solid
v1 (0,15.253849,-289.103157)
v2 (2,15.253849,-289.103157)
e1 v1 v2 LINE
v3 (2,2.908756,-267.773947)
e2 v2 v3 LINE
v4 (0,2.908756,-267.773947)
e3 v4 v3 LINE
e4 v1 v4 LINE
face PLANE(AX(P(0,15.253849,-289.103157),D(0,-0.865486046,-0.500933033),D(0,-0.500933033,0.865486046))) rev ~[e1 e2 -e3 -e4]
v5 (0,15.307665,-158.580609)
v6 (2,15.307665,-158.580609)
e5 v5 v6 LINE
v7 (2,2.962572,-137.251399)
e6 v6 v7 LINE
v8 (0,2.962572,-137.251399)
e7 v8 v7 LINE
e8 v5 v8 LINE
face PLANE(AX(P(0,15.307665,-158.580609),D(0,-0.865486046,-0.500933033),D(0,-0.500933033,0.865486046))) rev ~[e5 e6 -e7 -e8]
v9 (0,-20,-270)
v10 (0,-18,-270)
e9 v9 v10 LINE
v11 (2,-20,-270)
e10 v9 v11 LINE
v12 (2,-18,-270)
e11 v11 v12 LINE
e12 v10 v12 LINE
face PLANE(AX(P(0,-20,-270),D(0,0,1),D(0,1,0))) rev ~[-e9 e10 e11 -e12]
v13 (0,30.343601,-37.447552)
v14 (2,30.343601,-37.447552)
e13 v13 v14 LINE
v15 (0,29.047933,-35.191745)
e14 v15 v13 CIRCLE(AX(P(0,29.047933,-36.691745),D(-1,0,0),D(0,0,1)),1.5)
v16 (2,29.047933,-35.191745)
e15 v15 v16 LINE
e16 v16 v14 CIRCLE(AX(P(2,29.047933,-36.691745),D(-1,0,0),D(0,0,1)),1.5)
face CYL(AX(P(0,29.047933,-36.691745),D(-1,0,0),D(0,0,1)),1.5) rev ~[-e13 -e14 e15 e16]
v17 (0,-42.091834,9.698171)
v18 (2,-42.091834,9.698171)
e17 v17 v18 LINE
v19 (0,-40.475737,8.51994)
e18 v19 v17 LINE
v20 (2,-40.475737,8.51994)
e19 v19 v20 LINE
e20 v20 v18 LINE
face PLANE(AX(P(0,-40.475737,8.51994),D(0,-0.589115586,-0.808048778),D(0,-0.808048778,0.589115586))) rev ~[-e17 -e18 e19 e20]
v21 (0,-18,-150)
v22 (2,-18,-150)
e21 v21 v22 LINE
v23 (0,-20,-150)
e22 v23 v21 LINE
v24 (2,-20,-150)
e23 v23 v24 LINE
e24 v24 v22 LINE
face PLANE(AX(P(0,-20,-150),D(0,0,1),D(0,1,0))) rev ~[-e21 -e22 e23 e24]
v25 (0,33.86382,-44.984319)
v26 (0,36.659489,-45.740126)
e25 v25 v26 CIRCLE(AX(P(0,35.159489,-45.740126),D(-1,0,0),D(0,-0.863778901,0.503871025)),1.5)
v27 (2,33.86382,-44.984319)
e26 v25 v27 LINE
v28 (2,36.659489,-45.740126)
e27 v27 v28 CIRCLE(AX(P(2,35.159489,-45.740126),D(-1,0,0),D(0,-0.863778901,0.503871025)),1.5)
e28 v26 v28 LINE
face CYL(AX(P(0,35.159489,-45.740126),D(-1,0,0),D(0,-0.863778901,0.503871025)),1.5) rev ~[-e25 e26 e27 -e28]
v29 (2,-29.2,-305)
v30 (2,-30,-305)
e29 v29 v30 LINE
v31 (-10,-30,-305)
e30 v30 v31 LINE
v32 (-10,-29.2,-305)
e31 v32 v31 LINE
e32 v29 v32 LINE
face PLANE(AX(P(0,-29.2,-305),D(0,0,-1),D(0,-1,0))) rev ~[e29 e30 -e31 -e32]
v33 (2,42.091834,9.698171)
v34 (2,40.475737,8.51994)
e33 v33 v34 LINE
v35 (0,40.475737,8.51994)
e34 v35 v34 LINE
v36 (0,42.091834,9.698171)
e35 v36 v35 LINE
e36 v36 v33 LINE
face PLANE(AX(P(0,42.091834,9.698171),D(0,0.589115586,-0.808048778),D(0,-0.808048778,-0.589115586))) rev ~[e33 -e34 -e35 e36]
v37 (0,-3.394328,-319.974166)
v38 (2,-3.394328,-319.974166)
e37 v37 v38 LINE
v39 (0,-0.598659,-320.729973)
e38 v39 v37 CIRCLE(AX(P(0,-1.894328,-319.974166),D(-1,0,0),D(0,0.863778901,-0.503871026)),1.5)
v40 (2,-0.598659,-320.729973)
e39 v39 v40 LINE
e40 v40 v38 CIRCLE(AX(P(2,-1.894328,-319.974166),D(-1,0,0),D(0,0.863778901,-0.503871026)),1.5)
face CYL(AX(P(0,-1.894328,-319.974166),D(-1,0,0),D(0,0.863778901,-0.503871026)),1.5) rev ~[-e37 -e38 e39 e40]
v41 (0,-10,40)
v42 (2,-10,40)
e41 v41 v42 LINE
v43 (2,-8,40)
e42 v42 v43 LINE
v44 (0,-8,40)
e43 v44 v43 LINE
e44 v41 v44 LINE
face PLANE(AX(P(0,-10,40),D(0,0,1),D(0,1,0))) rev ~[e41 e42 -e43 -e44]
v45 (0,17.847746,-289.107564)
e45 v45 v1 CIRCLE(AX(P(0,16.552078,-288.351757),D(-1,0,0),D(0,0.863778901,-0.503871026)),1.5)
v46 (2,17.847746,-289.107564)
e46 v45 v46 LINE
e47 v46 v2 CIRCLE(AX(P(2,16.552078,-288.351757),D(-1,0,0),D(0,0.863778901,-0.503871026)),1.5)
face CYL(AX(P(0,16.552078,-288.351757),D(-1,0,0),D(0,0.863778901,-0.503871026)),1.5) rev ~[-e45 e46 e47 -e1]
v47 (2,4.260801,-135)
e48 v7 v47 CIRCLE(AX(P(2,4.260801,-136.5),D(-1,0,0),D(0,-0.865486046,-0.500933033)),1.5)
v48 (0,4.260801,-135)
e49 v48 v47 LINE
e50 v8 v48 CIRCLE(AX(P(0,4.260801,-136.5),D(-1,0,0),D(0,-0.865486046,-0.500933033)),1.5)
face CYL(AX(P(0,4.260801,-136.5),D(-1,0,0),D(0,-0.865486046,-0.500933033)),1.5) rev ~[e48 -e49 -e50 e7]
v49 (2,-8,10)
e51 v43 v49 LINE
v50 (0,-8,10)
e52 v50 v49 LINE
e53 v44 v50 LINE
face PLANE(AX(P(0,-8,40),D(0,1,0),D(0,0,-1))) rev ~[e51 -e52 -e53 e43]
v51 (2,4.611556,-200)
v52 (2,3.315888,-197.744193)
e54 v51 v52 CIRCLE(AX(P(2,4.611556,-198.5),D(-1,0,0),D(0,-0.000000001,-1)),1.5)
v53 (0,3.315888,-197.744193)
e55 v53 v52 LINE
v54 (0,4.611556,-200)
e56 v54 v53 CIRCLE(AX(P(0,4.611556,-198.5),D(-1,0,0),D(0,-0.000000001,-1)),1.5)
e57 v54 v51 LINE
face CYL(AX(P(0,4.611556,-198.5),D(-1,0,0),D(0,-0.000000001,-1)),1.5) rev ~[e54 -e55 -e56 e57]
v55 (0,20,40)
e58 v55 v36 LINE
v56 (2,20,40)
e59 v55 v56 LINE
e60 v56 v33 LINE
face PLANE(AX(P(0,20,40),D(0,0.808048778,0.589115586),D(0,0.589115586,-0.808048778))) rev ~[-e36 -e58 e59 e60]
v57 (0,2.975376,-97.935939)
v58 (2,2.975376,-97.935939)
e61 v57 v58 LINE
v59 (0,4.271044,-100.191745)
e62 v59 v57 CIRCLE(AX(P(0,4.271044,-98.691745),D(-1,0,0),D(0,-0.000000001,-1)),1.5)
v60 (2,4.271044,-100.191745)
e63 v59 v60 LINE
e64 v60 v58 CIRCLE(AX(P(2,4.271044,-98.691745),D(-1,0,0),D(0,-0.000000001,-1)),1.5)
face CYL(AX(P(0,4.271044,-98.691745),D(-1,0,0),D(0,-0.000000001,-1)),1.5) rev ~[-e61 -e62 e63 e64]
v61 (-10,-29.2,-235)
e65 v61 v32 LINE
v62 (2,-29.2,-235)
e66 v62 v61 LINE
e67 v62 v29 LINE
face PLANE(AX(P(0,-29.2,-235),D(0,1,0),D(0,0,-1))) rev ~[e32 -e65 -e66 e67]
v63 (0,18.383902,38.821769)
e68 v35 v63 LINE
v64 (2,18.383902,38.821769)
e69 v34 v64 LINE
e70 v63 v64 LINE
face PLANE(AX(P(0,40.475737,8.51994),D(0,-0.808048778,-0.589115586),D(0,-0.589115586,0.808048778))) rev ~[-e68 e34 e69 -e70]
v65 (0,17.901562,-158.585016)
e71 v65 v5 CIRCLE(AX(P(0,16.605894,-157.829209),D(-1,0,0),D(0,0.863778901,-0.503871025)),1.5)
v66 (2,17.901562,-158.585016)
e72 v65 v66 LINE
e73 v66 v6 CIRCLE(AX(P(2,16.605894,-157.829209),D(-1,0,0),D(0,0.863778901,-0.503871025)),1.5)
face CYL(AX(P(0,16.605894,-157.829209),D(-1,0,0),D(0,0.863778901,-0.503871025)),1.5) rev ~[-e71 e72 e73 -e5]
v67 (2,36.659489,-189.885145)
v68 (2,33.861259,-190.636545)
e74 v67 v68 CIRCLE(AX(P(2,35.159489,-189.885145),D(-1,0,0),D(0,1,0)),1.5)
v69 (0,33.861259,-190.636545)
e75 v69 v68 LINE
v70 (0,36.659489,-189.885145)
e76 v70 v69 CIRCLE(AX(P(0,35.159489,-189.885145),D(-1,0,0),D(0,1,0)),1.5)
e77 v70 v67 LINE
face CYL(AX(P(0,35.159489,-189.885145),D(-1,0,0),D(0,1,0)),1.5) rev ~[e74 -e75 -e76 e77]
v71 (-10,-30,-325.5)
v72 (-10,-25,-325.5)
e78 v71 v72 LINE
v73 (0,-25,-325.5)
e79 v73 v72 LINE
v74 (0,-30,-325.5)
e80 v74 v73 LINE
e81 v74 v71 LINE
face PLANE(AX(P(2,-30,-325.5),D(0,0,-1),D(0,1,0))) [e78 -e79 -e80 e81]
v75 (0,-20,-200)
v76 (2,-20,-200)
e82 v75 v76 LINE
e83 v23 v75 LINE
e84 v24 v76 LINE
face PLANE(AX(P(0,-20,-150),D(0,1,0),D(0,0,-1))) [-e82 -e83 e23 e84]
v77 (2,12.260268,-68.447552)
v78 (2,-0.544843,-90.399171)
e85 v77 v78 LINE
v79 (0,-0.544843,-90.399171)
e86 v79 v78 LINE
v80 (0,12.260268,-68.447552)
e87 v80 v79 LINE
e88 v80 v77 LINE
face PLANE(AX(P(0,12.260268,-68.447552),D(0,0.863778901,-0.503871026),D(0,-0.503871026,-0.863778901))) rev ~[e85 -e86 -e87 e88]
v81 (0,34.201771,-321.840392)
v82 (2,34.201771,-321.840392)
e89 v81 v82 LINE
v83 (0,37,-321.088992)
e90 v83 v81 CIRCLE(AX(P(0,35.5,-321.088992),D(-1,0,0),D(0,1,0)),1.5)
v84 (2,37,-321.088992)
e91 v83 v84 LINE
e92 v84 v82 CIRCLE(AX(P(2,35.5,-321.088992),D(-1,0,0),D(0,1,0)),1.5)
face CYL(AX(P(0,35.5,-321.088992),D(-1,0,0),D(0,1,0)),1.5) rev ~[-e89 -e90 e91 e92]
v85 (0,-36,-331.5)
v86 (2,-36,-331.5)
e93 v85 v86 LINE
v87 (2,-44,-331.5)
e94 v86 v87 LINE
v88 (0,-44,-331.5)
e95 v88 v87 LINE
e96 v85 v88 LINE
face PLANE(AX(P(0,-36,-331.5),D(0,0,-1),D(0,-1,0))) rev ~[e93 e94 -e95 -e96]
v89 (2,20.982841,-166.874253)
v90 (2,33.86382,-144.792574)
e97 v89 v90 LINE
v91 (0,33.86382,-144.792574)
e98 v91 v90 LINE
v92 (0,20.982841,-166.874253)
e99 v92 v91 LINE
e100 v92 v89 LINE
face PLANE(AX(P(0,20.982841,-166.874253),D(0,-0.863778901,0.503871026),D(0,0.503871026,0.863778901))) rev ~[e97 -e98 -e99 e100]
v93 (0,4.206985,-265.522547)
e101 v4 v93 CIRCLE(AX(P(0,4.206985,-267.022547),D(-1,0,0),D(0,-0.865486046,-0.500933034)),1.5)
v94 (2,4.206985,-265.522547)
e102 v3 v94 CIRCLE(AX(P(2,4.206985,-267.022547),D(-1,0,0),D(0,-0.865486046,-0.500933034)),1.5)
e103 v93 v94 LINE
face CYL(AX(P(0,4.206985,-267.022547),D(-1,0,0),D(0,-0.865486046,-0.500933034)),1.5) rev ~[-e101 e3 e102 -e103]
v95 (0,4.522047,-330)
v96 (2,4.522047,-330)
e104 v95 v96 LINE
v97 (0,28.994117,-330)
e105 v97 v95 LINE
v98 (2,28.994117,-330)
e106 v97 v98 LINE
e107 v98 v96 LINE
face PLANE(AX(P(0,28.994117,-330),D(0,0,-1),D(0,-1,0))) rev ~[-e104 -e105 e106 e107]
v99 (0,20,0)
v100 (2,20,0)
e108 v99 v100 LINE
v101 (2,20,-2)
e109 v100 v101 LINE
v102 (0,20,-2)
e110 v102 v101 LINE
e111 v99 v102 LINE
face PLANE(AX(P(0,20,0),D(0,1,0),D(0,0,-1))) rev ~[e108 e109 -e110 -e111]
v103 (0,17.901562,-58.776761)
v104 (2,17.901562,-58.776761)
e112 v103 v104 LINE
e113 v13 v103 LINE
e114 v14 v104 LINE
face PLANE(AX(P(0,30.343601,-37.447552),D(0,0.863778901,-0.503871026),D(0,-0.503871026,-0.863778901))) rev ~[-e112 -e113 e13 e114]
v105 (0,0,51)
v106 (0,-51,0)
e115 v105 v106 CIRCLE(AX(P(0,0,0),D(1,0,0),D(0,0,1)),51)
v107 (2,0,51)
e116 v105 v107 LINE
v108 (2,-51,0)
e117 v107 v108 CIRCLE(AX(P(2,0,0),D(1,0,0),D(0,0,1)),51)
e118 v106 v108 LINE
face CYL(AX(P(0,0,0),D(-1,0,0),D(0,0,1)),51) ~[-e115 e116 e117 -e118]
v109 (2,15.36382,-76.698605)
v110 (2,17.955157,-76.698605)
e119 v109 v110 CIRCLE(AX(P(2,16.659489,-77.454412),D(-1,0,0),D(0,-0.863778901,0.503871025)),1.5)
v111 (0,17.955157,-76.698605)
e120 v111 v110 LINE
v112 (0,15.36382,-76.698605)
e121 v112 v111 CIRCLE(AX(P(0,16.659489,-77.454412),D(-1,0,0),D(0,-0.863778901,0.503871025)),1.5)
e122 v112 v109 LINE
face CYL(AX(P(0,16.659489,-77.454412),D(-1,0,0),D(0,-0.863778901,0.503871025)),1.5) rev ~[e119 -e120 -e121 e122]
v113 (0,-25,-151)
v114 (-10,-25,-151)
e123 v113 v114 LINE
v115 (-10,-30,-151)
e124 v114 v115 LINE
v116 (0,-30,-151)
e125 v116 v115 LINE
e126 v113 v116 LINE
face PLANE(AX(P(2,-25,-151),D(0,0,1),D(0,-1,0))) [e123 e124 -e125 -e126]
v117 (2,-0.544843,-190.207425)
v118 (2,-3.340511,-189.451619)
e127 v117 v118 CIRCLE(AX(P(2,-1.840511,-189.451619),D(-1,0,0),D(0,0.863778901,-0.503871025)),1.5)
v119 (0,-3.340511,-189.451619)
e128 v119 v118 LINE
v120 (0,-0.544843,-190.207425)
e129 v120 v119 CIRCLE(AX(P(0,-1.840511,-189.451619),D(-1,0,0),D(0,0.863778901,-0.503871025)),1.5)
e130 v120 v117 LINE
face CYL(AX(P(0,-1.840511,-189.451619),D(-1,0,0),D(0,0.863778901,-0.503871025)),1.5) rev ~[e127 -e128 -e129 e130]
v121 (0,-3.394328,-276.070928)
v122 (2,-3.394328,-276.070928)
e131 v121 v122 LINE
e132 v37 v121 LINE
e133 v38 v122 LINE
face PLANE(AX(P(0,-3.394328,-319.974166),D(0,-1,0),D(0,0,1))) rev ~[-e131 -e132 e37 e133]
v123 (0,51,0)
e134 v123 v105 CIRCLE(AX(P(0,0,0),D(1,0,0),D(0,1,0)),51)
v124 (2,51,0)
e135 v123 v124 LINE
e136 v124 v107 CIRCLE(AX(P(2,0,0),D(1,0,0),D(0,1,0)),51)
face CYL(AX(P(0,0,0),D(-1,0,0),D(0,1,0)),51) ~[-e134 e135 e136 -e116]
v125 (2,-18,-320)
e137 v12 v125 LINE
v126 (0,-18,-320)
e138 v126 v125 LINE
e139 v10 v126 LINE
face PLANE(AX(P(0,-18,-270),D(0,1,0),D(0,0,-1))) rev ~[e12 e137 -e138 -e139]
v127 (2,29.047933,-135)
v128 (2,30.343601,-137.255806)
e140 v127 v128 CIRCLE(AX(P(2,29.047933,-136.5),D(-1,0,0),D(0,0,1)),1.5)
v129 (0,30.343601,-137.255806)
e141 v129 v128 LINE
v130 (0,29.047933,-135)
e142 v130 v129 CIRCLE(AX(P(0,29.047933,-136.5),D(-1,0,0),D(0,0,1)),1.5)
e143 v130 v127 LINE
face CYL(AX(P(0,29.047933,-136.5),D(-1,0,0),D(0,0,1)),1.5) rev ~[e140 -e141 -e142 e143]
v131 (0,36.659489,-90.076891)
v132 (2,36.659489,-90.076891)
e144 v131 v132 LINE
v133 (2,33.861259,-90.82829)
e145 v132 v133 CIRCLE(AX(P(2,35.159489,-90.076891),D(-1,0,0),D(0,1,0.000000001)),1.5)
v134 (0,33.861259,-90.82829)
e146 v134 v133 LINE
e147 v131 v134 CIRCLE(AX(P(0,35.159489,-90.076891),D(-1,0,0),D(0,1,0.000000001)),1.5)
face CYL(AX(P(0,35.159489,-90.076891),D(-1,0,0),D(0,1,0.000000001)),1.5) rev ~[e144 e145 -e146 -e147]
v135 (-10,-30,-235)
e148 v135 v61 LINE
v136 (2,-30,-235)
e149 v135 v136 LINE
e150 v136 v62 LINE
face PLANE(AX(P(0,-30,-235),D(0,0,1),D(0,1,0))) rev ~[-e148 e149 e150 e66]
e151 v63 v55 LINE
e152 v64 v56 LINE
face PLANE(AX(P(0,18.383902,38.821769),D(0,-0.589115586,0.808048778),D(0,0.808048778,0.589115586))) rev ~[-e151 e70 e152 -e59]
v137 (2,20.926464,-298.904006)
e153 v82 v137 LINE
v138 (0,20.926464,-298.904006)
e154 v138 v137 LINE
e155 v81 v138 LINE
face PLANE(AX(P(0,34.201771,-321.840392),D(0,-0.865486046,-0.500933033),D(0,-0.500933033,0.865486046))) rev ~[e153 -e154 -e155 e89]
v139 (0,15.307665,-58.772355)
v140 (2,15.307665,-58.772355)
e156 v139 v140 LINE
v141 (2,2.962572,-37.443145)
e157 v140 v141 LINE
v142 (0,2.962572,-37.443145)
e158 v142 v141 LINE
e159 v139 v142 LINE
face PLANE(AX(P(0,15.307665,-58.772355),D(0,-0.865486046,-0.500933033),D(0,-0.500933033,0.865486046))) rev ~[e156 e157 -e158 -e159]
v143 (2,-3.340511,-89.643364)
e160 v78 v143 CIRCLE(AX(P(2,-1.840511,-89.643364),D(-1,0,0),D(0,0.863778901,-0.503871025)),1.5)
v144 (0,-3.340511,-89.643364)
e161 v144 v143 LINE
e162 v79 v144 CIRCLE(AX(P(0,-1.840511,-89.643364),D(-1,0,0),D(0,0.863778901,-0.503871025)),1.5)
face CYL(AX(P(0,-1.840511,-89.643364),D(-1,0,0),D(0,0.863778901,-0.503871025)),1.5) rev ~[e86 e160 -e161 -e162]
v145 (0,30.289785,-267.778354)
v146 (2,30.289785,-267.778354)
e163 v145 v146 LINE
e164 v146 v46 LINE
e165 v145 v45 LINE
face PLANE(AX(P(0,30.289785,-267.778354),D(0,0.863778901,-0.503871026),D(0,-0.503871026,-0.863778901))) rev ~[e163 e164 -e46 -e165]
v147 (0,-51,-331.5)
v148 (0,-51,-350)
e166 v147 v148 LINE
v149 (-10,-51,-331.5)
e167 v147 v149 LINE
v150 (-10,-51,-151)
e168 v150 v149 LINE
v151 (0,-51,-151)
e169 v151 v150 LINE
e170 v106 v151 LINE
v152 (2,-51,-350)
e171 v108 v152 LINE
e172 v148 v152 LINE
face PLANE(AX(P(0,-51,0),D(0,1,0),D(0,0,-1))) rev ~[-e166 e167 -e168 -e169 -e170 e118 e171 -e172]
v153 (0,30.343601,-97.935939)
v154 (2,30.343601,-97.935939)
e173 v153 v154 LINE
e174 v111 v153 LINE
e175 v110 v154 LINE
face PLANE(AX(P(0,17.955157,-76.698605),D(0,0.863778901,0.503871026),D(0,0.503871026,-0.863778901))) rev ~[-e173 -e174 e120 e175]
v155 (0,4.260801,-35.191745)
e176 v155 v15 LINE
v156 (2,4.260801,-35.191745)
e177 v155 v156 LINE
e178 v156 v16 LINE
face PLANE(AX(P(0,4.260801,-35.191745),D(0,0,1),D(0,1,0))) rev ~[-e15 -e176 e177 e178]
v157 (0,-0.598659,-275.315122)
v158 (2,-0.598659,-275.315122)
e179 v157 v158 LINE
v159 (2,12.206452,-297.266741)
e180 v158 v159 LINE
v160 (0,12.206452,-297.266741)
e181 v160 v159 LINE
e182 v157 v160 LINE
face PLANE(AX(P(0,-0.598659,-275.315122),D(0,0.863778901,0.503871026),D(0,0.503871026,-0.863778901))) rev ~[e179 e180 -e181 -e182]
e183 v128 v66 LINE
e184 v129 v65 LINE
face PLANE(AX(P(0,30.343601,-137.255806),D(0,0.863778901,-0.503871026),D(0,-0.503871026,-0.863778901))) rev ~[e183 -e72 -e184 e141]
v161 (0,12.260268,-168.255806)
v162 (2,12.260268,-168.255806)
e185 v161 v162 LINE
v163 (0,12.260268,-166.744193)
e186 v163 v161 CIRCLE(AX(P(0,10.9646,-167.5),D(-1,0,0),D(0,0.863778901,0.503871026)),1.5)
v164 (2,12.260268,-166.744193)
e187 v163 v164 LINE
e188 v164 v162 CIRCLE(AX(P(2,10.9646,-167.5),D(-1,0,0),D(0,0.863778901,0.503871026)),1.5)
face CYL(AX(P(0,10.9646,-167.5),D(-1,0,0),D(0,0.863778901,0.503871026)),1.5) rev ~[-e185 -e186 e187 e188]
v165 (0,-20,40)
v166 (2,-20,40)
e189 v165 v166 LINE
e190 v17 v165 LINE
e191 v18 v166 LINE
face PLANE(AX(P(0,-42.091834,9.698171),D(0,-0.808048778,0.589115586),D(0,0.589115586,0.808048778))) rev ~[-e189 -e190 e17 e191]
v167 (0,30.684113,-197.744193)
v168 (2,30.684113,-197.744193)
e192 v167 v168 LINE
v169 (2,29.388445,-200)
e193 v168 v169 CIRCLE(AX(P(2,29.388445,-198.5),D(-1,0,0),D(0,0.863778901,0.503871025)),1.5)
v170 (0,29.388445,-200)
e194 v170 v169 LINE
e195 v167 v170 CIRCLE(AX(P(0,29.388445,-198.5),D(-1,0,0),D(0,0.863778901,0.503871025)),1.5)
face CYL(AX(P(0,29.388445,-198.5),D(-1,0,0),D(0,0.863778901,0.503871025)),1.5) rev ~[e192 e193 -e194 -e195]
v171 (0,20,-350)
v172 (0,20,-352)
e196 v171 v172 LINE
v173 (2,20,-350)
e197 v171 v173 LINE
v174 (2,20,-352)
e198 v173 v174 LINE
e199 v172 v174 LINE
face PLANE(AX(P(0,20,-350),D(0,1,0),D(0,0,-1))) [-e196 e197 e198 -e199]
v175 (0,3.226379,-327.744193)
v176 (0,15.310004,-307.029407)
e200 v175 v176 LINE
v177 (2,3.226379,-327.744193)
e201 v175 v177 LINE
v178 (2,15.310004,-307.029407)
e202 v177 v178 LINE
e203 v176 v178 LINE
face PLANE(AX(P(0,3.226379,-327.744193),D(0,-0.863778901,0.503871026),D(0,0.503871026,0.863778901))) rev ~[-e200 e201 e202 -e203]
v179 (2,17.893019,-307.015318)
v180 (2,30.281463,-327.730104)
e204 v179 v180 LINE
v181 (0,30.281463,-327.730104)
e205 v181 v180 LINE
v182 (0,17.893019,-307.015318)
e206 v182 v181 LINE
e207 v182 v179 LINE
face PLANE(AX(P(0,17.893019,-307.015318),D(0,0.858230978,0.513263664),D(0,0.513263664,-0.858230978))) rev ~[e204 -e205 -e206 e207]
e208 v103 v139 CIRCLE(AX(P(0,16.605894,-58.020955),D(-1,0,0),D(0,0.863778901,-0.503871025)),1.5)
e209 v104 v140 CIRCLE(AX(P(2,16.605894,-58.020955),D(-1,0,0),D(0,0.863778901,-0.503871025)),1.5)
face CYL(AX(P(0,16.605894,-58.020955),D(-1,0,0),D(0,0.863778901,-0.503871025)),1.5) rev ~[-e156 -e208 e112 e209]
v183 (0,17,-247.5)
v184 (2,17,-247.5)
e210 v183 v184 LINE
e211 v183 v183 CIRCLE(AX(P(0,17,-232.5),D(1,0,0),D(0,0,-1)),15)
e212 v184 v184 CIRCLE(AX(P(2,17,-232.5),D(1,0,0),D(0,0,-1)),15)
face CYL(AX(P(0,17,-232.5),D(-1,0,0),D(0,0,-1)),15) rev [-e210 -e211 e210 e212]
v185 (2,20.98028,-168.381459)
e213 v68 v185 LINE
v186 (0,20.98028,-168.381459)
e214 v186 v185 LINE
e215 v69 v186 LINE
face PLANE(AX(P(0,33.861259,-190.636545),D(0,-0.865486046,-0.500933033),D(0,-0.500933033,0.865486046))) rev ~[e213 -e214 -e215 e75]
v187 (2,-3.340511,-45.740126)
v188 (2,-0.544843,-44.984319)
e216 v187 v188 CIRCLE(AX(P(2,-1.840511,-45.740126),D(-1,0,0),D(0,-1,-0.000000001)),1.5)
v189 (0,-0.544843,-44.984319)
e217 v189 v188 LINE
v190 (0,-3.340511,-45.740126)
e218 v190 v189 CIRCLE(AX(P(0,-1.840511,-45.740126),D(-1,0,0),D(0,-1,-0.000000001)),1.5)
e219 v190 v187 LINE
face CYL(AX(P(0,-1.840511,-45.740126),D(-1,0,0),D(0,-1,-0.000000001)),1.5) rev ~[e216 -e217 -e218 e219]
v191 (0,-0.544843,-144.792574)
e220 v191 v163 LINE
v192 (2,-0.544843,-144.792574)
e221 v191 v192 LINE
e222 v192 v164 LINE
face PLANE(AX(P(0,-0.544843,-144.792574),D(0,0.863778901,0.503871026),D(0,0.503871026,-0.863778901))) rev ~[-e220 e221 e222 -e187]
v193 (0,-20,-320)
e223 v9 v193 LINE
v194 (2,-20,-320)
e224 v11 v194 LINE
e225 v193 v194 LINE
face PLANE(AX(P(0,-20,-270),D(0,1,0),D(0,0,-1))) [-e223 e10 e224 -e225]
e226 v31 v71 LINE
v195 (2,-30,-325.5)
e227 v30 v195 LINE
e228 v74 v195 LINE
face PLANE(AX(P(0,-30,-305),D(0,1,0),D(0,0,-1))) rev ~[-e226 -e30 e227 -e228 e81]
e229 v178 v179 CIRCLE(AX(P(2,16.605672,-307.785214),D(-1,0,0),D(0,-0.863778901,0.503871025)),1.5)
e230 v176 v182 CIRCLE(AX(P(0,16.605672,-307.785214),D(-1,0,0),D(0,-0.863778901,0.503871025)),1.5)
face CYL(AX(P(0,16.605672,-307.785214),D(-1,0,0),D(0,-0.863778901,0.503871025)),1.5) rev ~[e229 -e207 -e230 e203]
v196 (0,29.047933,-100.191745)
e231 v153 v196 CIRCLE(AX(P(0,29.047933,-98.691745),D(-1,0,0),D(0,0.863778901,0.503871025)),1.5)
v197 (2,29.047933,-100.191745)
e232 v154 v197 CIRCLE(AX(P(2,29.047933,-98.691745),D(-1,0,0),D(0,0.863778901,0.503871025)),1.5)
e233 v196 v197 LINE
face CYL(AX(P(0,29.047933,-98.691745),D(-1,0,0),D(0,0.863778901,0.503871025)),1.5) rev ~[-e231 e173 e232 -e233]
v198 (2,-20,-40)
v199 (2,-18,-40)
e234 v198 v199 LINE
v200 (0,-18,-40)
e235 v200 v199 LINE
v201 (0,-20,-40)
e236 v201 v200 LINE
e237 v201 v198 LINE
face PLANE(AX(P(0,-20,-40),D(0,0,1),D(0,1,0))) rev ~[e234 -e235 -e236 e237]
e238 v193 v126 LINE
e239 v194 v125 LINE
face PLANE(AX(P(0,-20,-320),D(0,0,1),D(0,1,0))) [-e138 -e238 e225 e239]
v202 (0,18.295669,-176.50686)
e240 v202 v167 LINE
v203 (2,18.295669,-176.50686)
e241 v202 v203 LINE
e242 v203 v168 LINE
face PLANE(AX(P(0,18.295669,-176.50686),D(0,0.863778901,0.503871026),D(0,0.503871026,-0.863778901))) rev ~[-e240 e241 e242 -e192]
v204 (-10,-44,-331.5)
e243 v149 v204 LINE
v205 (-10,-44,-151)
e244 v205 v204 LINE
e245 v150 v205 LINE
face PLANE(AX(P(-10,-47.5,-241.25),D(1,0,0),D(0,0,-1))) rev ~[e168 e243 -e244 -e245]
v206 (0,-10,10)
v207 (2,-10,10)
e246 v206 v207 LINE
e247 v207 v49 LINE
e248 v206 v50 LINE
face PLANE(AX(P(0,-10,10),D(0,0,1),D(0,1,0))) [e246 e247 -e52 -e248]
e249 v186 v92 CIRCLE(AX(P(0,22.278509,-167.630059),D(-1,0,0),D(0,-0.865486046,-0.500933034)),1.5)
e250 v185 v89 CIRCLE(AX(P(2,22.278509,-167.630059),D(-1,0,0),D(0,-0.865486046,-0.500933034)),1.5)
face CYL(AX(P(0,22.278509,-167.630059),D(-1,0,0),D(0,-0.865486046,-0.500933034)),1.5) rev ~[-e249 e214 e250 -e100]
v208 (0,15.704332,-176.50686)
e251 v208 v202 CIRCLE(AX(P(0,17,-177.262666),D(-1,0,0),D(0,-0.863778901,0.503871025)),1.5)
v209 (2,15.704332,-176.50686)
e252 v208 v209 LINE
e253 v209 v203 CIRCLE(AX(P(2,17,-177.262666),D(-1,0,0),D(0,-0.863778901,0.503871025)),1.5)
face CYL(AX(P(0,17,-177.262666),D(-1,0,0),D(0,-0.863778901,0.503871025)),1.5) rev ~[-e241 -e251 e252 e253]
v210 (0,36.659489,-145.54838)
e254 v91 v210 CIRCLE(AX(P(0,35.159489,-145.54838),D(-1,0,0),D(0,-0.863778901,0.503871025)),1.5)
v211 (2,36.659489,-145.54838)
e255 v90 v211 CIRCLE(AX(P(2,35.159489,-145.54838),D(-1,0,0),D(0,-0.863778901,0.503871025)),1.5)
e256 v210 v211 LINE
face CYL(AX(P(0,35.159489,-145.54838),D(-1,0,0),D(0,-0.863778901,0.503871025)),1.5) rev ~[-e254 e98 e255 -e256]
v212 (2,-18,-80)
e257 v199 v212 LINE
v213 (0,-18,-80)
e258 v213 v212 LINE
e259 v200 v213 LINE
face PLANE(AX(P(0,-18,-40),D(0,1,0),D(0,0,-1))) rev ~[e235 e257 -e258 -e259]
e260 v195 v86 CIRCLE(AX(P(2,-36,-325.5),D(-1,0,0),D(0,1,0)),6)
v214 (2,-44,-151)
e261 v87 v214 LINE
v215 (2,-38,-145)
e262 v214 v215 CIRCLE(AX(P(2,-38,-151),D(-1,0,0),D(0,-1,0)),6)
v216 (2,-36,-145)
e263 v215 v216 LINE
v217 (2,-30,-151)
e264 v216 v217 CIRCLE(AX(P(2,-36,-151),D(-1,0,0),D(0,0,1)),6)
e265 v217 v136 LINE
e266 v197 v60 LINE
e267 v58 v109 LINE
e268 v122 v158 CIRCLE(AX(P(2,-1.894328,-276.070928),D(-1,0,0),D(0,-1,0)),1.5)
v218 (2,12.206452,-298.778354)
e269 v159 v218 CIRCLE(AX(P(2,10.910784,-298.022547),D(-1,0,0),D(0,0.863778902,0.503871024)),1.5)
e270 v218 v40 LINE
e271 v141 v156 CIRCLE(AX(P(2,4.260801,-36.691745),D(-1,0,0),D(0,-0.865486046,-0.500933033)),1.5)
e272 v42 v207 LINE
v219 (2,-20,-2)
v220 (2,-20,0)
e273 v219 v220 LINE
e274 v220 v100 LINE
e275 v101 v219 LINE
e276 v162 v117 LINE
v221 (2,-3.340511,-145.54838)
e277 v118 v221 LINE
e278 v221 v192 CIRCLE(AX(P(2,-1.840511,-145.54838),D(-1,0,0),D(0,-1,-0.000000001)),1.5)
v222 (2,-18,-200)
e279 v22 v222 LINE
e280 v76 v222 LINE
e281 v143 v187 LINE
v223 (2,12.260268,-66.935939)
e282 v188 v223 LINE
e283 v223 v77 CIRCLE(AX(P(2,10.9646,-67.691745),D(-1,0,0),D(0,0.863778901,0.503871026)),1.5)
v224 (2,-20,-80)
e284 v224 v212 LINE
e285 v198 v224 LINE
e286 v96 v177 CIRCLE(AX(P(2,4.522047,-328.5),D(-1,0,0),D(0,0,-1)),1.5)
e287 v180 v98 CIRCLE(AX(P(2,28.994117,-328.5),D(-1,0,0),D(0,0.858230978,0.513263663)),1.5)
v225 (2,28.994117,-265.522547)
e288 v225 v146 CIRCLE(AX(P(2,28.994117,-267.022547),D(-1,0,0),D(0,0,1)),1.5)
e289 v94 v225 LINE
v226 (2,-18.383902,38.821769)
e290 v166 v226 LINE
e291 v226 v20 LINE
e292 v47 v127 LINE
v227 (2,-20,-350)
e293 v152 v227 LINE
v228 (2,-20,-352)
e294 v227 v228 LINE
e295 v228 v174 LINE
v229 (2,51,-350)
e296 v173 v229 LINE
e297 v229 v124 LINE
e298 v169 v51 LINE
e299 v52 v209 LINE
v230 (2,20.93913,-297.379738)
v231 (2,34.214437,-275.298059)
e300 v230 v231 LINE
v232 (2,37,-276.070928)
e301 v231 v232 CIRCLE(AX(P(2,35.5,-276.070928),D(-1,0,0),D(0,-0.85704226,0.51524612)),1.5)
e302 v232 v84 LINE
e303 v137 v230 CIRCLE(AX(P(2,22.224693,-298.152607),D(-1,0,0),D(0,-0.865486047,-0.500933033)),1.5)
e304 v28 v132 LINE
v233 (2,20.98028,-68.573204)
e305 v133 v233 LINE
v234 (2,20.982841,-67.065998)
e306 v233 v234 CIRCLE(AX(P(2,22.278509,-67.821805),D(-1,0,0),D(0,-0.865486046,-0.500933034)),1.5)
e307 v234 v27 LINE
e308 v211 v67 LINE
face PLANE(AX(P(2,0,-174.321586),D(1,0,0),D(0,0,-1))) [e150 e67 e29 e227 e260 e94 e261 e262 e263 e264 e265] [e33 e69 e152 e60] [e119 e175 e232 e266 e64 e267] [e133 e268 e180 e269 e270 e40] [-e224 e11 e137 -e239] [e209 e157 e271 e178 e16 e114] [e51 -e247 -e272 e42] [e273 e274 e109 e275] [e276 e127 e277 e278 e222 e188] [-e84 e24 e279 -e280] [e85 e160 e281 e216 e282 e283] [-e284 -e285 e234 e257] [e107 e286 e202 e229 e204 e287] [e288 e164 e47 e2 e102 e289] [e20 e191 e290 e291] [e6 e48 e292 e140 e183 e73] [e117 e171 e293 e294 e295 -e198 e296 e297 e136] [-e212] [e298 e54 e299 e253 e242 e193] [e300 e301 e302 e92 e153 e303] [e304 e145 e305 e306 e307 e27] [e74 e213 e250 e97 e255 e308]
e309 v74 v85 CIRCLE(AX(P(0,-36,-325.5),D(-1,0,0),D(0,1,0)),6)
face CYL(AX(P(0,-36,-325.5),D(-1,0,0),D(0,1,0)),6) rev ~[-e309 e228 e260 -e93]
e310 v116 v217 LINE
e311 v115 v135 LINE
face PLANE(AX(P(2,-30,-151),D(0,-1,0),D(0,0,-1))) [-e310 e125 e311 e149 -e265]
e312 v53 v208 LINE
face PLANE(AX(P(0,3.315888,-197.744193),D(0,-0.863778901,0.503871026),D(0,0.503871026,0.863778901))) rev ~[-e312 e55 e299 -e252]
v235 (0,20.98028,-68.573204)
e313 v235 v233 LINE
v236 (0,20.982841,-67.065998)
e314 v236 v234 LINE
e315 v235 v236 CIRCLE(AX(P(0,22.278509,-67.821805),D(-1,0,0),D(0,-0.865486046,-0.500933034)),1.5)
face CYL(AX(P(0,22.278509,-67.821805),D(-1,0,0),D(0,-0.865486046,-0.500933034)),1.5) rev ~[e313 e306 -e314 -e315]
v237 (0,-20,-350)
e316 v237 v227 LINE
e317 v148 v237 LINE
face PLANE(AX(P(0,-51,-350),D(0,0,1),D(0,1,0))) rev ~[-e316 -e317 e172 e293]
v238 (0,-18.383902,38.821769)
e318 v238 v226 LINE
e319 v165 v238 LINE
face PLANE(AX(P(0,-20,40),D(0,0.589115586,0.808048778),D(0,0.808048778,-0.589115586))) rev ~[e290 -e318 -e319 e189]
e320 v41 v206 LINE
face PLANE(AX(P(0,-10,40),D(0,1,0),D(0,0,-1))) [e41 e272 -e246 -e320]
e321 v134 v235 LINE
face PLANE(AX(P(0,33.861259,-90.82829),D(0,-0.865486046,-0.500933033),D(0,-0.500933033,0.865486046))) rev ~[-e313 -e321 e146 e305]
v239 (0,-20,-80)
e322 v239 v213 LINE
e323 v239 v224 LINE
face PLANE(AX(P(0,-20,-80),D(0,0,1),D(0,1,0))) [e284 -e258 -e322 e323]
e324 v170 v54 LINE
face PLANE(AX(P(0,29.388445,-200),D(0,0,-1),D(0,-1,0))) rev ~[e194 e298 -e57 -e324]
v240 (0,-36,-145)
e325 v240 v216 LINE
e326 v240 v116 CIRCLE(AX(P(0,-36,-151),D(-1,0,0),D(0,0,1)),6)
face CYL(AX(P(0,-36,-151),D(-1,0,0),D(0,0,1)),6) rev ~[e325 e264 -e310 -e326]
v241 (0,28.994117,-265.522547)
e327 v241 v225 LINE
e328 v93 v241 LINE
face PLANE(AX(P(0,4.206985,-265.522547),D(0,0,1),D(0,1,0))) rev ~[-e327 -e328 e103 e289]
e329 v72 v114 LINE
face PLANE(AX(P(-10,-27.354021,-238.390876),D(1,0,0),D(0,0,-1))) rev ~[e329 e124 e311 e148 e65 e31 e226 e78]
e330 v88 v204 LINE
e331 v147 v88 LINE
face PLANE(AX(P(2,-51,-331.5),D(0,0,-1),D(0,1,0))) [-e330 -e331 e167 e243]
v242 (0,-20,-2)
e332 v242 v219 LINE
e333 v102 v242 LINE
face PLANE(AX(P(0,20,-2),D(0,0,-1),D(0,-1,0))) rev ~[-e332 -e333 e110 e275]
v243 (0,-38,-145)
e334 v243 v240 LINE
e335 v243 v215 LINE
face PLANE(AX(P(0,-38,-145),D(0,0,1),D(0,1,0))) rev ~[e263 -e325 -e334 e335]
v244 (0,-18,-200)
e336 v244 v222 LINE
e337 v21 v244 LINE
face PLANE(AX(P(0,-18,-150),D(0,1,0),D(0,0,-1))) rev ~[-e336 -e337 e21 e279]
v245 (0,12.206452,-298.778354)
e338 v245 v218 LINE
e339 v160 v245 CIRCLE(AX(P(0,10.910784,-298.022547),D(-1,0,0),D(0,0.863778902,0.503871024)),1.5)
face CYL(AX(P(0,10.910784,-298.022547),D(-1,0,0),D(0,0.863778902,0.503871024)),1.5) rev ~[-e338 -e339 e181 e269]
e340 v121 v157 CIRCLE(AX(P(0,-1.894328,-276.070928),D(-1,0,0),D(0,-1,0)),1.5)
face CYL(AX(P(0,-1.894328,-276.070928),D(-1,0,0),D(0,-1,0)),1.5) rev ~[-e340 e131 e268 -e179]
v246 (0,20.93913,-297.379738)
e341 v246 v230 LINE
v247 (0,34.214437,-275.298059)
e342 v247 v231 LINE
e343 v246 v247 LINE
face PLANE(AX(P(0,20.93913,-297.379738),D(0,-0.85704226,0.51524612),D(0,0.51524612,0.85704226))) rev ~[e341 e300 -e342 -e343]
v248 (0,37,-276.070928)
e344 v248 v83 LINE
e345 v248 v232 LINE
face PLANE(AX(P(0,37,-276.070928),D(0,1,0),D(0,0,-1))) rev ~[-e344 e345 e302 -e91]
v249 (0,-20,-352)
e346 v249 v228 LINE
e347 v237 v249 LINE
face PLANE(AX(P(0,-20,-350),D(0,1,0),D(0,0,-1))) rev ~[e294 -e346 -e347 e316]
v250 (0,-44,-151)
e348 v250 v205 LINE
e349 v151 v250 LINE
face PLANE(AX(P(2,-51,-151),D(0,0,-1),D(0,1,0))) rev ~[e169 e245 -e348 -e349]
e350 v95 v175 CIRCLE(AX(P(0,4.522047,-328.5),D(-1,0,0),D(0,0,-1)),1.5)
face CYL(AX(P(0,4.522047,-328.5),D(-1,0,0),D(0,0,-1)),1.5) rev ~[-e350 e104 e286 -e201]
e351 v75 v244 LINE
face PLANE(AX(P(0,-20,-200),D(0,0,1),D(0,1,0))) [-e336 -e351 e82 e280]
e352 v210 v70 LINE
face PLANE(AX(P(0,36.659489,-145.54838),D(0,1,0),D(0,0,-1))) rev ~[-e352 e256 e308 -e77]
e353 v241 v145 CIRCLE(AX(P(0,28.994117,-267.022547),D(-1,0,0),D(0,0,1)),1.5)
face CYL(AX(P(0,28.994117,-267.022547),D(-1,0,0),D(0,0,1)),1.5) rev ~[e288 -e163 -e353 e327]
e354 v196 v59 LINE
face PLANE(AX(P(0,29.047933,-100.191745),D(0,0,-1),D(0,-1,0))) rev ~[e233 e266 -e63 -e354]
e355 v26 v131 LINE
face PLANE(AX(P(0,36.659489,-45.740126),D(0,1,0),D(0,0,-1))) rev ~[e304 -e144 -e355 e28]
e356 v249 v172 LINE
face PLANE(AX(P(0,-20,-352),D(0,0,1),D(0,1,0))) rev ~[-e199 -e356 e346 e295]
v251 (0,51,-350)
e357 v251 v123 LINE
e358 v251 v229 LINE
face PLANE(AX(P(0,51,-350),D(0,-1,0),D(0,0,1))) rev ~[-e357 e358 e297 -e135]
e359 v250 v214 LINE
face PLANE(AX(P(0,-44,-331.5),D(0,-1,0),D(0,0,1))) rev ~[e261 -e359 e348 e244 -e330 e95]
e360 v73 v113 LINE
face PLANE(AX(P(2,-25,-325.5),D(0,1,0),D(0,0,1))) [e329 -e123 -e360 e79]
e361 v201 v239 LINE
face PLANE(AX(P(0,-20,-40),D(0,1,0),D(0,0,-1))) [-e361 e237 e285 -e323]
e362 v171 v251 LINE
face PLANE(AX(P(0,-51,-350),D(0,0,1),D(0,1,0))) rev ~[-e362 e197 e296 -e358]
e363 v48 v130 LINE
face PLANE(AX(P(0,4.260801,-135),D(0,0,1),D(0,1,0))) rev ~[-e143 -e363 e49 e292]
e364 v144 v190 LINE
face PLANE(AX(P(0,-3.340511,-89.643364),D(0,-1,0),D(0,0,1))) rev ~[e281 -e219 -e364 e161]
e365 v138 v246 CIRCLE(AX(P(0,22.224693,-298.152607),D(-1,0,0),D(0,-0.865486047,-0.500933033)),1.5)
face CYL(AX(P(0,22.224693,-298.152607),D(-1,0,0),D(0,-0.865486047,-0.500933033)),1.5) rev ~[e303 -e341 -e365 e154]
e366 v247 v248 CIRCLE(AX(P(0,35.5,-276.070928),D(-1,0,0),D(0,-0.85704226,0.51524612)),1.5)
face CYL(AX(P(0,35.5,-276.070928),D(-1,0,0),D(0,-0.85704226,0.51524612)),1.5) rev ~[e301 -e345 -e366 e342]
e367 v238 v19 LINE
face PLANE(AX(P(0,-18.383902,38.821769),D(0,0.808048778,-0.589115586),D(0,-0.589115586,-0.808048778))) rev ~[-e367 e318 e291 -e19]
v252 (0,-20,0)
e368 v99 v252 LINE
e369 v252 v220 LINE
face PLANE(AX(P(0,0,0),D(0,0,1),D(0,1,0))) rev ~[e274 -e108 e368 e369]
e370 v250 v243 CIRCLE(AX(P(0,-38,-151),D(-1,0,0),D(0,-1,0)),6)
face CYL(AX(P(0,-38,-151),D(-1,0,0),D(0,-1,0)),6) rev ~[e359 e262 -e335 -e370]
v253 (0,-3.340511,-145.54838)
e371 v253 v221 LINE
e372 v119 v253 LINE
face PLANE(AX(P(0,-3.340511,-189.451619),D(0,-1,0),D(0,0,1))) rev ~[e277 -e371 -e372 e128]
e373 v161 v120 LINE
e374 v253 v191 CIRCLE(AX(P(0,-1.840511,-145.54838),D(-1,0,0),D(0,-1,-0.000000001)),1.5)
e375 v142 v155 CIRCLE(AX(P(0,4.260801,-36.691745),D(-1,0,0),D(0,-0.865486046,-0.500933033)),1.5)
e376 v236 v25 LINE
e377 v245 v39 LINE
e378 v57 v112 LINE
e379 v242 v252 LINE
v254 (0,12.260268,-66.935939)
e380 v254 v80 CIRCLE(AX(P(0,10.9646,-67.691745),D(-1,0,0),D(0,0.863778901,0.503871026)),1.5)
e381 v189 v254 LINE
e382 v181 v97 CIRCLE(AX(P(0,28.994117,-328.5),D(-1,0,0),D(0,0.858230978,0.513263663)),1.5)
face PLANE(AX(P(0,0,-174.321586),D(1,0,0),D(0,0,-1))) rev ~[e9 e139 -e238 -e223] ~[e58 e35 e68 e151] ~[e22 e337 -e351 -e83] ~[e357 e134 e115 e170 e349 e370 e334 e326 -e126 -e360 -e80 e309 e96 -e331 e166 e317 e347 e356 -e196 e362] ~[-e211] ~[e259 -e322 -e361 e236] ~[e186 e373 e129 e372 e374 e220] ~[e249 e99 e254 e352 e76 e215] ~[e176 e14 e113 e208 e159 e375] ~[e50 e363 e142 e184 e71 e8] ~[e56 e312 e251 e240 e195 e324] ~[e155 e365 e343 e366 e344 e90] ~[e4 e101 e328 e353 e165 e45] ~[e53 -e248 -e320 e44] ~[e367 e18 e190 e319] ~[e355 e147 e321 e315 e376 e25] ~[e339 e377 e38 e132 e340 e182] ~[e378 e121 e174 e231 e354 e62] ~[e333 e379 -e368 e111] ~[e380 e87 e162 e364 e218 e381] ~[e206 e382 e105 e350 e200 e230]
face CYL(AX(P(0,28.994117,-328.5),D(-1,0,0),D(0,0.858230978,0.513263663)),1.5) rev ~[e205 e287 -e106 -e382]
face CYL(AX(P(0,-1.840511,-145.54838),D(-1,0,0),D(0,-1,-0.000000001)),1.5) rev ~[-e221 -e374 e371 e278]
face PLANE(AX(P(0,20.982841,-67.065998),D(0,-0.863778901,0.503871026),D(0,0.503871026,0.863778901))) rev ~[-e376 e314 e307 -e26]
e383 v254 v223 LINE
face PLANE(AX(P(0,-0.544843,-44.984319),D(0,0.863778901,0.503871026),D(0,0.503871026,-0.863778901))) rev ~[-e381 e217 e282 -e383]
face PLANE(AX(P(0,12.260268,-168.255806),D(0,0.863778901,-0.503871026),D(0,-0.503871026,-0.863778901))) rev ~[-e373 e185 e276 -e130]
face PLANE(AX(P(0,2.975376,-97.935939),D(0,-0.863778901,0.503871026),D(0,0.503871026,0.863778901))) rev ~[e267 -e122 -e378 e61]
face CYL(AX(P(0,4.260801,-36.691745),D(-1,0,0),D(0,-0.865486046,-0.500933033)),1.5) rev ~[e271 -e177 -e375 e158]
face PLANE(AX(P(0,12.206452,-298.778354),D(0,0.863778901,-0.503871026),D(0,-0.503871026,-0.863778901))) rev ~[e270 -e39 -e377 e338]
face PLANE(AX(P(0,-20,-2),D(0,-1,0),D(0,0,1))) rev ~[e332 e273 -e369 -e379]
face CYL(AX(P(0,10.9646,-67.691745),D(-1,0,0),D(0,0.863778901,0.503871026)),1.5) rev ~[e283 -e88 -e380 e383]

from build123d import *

# Parameters (mm, degrees)
SKETCH_1_W      = 40
SKETCH_1_H      = 2
SKETCH_1_W_2    = 50
SKETCH_1_R      = 15
SKETCH_1_W_3    = 30
SKETCH_1_W_4    = 2
SKETCH_1_H_2    = 40
EXTRUDE_3_DEPTH = 2
SKETCH_2_W      = 180.5
SKETCH_2_H      = 7
EXTRUDE_4_DEPTH = 12


with BuildPart() as part:
    # 草图1 → 凸台-拉伸3 (new body)
    # profile 1 of 4: a face of its own
    with BuildSketch(Plane(origin=(0, 0, 0), x_dir=(0, 0, -1), z_dir=(1, 0, 0))):
        Polygon((139, 51), (0, 51), (0, 20), (2, 20), (2, -20), (0, -20), (0, -51), (350, -51), (350, -20), (350, 20), (350, 51), (337.5, 51), (331.5, 51), (145, 51), align=None)
        with Locations((59.999999544, -18.999999639)):
            Rectangle(SKETCH_1_W, SKETCH_1_H, mode=Mode.SUBTRACT)
        with BuildLine():
            Line((145, -38), (145, -36))
            ThreePointArc((145, -36), (146.757359313, -31.757359313), (151, -30))
            Line((151, -30), (235, -30))
            Line((235, -30), (235, -29.2))
            Line((235, -29.2), (305, -29.2))
            Line((305, -29.2), (305, -30))
            Line((305, -30), (325.5, -30))
            ThreePointArc((325.5, -30), (329.742640687, -31.757359313), (331.5, -36))
            Line((331.5, -36), (331.5, -39))
            Line((331.5, -39), (331.5, -44))
            Line((331.5, -44), (325.5, -44))
            Line((325.5, -44), (151, -44))
            ThreePointArc((151, -44), (146.757359313, -42.242640687), (145, -38))
        make_face(mode=Mode.SUBTRACT)
        with Locations((174.999999544, -18.999999639)):
            Rectangle(SKETCH_1_W_2, SKETCH_1_H, mode=Mode.SUBTRACT)
        with Locations((294.999999544, -18.999999639)):
            Rectangle(SKETCH_1_W_2, SKETCH_1_H, mode=Mode.SUBTRACT)
        with BuildLine():
            Line((35.191745107, 4.260800891), (35.191745107, 29.047933032))
            ThreePointArc((35.191745107, 29.047933032), (35.944654017, 30.348646261), (37.447551645, 30.343601384))
            Line((37.447551645, 30.343601384), (58.776761499, 17.901562302))
            ThreePointArc((58.776761499, 17.901562302), (59.520952796, 16.603345479), (58.772354511, 15.307664881))
            Line((58.772354511, 15.307664881), (37.443144656, 2.962571821))
            ThreePointArc((37.443144656, 2.962571821), (35.942445208, 2.961358833), (35.191745107, 4.260800891))
        make_face(mode=Mode.SUBTRACT)
        with BuildLine():
            Line((89.643364252, -3.340511469), (45.740125962, -3.340511469))
            ThreePointArc((45.740125962, -3.340511469), (44.292109641, -2.231981438), (44.984319423, -0.544843118))
            Line((44.984319423, -0.544843118), (66.935938568, 12.26026805))
            ThreePointArc((66.935938568, 12.26026805), (67.691745107, 12.464599699), (68.447551645, 12.26026805))
            Line((68.447551645, 12.26026805), (90.39917079, -0.544843118))
            ThreePointArc((90.39917079, -0.544843118), (91.091380572, -2.231981438), (89.643364252, -3.340511469))
        make_face(mode=Mode.SUBTRACT)
        with BuildLine():
            ThreePointArc((97.935938568, 30.343601384), (99.438836196, 30.348646261), (100.191745107, 29.047933032))
            Line((100.191745107, 29.047933032), (100.191745107, 4.27104403))
            ThreePointArc((100.191745107, 4.27104403), (99.438836196, 2.970330801), (97.935938568, 2.975375678))
            Line((97.935938568, 2.975375678), (76.698605138, 15.36382018))
            ThreePointArc((76.698605138, 15.36382018), (75.954411676, 16.659488531), (76.698605138, 17.955156882))
            Line((76.698605138, 17.955156882), (97.935938568, 30.343601384))
        make_face(mode=Mode.SUBTRACT)
        with BuildLine():
            Line((134.999999544, 4.260800891), (134.999999544, 29.047933032))
            ThreePointArc((134.999999544, 29.047933032), (135.752908454, 30.348646261), (137.255806082, 30.343601384))
            Line((137.255806082, 30.343601384), (158.585015936, 17.901562302))
            ThreePointArc((158.585015936, 17.901562302), (159.329207233, 16.603345479), (158.580608948, 15.307664881))
            Line((158.580608948, 15.307664881), (137.251399093, 2.962571821))
            ThreePointArc((137.251399093, 2.962571821), (135.750699645, 2.961358833), (134.999999544, 4.260800891))
        make_face(mode=Mode.SUBTRACT)
        with BuildLine():
            ThreePointArc((44.984319423, 33.86382018), (44.292109641, 35.5509585), (45.740125962, 36.659488531))
            Line((45.740125962, 36.659488531), (90.076890905, 36.659488531))
            ThreePointArc((90.076890905, 36.659488531), (91.525570236, 35.548497783), (90.828290455, 33.861259462))
            Line((90.828290455, 33.861259462), (68.573204266, 20.980280188))
            ThreePointArc((68.573204266, 20.980280188), (67.819256245, 20.778511422), (67.065998178, 20.982840906))
            Line((67.065998178, 20.982840906), (44.984319423, 33.86382018))
        make_face(mode=Mode.SUBTRACT)
        with BuildLine():
            Line((189.451618689, -3.340511469), (145.548380399, -3.340511469))
            ThreePointArc((145.548380399, -3.340511469), (144.100364078, -2.231981438), (144.79257386, -0.544843118))
            Line((144.79257386, -0.544843118), (166.744193005, 12.26026805))
            ThreePointArc((166.744193005, 12.26026805), (167.499999544, 12.464599699), (168.255806082, 12.26026805))
            Line((168.255806082, 12.26026805), (190.207425227, -0.544843118))
            ThreePointArc((190.207425227, -0.544843118), (190.899635009, -2.231981438), (189.451618689, -3.340511469))
        make_face(mode=Mode.SUBTRACT)
        with BuildLine():
            ThreePointArc((197.744193005, 30.684113214), (199.247090633, 30.689158091), (199.999999544, 29.388444862))
            Line((199.999999544, 29.388444862), (199.999999544, 4.61155586))
            ThreePointArc((199.999999544, 4.61155586), (199.247090633, 3.310842631), (197.744193005, 3.315887508))
            Line((197.744193005, 3.315887508), (176.506859575, 15.70433201))
            ThreePointArc((176.506859575, 15.70433201), (175.762666113, 17.000000361), (176.506859575, 18.295668712))
            Line((176.506859575, 18.295668712), (197.744193005, 30.684113214))
        make_face(mode=Mode.SUBTRACT)
        with Locations((232.499999544, 17.000000361)):
            Circle(SKETCH_1_R, mode=Mode.SUBTRACT)
        with BuildLine():
            Line((319.974166341, -3.394327578), (276.070928051, -3.394327578))
            ThreePointArc((276.070928051, -3.394327578), (274.622911731, -2.285797546), (275.315121513, -0.598659226))
            Line((275.315121513, -0.598659226), (297.266740658, 12.206451942))
            ThreePointArc((297.266740658, 12.206451942), (298.022547196, 12.41078359), (298.778353734, 12.206451942))
            Line((298.778353734, 12.206451942), (320.729972879, -0.598659226))
            ThreePointArc((320.729972879, -0.598659226), (321.422182661, -2.285797546), (319.974166341, -3.394327578))
        make_face(mode=Mode.SUBTRACT)
        with BuildLine():
            Line((265.522547196, 4.206984782), (265.522547196, 28.994116924))
            ThreePointArc((265.522547196, 28.994116924), (266.275456106, 30.294830153), (267.778353734, 30.289785275))
            Line((267.778353734, 30.289785275), (289.107563589, 17.847746193))
            ThreePointArc((289.107563589, 17.847746193), (289.851754885, 16.549529371), (289.1031566, 15.253848773))
            Line((289.1031566, 15.253848773), (267.773946745, 2.908755713))
            ThreePointArc((267.773946745, 2.908755713), (266.273247297, 2.907542724), (265.522547196, 4.206984782))
        make_face(mode=Mode.SUBTRACT)
        with BuildLine():
            ThreePointArc((327.730104048, 30.281463391), (329.239984934, 30.298885724), (329.999999544, 28.994116924))
            Line((329.999999544, 28.994116924), (329.999999544, 4.522047385))
            ThreePointArc((329.999999544, 4.522047385), (329.247090633, 3.221334156), (327.744193005, 3.226379034))
            Line((327.744193005, 3.226379034), (307.029407227, 15.310004071))
            ThreePointArc((307.029407227, 15.310004071), (306.285236078, 16.597490851), (307.01531827, 17.893018889))
            Line((307.01531827, 17.893018889), (327.730104048, 30.281463391))
        make_face(mode=Mode.SUBTRACT)
        with BuildLine():
            ThreePointArc((144.79257386, 33.86382018), (144.100364078, 35.5509585), (145.548380399, 36.659488531))
            Line((145.548380399, 36.659488531), (189.885145343, 36.659488531))
            ThreePointArc((189.885145343, 36.659488531), (191.333824673, 35.548497783), (190.636544892, 33.861259462))
            Line((190.636544892, 33.861259462), (168.381458703, 20.980280188))
            ThreePointArc((168.381458703, 20.980280188), (167.627510682, 20.778511422), (166.874252615, 20.982840906))
            Line((166.874252615, 20.982840906), (144.79257386, 33.86382018))
        make_face(mode=Mode.SUBTRACT)
        with BuildLine():
            ThreePointArc((275.298058871, 34.214436971), (274.625531032, 35.901033349), (276.070928051, 37.000000361))
            Line((276.070928051, 37.000000361), (321.088992302, 37.000000361))
            ThreePointArc((321.088992302, 37.000000361), (322.537671633, 35.889009613), (321.840391852, 34.201771291))
            Line((321.840391852, 34.201771291), (298.904006355, 20.926464079))
            ThreePointArc((298.904006355, 20.926464079), (298.140143214, 20.72474493), (297.379737626, 20.939129758))
            Line((297.379737626, 20.939129758), (275.298058871, 34.214436971))
        make_face(mode=Mode.SUBTRACT)
    # profile 2 of 4: a face of its own
    with BuildSketch(Plane(origin=(0, 0, 0), x_dir=(0, 0, -1), z_dir=(1, 0, 0))):
        with BuildLine():
            Line((0, 20), (0, 51))
            ThreePointArc((0, 51), (-36.062445841, 36.062445841), (-51, 0))
            Line((-51, 0), (0, 0))
            Line((0, 0), (0, 20))
        make_face()
        Polygon((-38.821768829, 18.383902445), (-40, 20), (-9.698170842, 42.091834457), (-8.519939671, 40.475736902), align=None, mode=Mode.SUBTRACT)
    # profile 3 of 4: a face of its own
    with BuildSketch(Plane(origin=(0, 0, 0), x_dir=(0, 0, -1), z_dir=(1, 0, 0))):
        with BuildLine():
            Line((0, 0), (-51, 0))
            ThreePointArc((-51, 0), (-36.062445841, -36.062445841), (0, -51))
            Line((0, -51), (0, -20))
            Line((0, -20), (0, 0))
        make_face()
        Polygon((-40, -20), (-38.821768829, -18.383902445), (-8.519939671, -40.475736902), (-9.698170842, -42.091834457), align=None, mode=Mode.SUBTRACT)
        with Locations((-25, -9)):
            Rectangle(SKETCH_1_W_3, SKETCH_1_H, mode=Mode.SUBTRACT)
    # profile 4 of 4: a face of its own
    with BuildSketch(Plane(origin=(0, 0, 0), x_dir=(0, 0, -1), z_dir=(1, 0, 0))):
        with Locations((351, 0)):
            Rectangle(SKETCH_1_W_4, SKETCH_1_H_2)
    extrude(amount=EXTRUDE_3_DEPTH)

    # 草图2 → 凸台-拉伸4 (add)
    with BuildSketch(Plane(origin=(2, 0, 0), x_dir=(0, 0, -1), z_dir=(1, 0, 0))):
        with Locations((241.25, -47.5)):
            Rectangle(SKETCH_2_W, SKETCH_2_H)
        Polygon((151, -30), (235, -30), (235, -29.2), (305, -29.2), (305, -30), (325.5, -30), (325.5, -25), (151, -25), align=None)
    extrude(amount=-EXTRUDE_4_DEPTH)


solid = part.part
